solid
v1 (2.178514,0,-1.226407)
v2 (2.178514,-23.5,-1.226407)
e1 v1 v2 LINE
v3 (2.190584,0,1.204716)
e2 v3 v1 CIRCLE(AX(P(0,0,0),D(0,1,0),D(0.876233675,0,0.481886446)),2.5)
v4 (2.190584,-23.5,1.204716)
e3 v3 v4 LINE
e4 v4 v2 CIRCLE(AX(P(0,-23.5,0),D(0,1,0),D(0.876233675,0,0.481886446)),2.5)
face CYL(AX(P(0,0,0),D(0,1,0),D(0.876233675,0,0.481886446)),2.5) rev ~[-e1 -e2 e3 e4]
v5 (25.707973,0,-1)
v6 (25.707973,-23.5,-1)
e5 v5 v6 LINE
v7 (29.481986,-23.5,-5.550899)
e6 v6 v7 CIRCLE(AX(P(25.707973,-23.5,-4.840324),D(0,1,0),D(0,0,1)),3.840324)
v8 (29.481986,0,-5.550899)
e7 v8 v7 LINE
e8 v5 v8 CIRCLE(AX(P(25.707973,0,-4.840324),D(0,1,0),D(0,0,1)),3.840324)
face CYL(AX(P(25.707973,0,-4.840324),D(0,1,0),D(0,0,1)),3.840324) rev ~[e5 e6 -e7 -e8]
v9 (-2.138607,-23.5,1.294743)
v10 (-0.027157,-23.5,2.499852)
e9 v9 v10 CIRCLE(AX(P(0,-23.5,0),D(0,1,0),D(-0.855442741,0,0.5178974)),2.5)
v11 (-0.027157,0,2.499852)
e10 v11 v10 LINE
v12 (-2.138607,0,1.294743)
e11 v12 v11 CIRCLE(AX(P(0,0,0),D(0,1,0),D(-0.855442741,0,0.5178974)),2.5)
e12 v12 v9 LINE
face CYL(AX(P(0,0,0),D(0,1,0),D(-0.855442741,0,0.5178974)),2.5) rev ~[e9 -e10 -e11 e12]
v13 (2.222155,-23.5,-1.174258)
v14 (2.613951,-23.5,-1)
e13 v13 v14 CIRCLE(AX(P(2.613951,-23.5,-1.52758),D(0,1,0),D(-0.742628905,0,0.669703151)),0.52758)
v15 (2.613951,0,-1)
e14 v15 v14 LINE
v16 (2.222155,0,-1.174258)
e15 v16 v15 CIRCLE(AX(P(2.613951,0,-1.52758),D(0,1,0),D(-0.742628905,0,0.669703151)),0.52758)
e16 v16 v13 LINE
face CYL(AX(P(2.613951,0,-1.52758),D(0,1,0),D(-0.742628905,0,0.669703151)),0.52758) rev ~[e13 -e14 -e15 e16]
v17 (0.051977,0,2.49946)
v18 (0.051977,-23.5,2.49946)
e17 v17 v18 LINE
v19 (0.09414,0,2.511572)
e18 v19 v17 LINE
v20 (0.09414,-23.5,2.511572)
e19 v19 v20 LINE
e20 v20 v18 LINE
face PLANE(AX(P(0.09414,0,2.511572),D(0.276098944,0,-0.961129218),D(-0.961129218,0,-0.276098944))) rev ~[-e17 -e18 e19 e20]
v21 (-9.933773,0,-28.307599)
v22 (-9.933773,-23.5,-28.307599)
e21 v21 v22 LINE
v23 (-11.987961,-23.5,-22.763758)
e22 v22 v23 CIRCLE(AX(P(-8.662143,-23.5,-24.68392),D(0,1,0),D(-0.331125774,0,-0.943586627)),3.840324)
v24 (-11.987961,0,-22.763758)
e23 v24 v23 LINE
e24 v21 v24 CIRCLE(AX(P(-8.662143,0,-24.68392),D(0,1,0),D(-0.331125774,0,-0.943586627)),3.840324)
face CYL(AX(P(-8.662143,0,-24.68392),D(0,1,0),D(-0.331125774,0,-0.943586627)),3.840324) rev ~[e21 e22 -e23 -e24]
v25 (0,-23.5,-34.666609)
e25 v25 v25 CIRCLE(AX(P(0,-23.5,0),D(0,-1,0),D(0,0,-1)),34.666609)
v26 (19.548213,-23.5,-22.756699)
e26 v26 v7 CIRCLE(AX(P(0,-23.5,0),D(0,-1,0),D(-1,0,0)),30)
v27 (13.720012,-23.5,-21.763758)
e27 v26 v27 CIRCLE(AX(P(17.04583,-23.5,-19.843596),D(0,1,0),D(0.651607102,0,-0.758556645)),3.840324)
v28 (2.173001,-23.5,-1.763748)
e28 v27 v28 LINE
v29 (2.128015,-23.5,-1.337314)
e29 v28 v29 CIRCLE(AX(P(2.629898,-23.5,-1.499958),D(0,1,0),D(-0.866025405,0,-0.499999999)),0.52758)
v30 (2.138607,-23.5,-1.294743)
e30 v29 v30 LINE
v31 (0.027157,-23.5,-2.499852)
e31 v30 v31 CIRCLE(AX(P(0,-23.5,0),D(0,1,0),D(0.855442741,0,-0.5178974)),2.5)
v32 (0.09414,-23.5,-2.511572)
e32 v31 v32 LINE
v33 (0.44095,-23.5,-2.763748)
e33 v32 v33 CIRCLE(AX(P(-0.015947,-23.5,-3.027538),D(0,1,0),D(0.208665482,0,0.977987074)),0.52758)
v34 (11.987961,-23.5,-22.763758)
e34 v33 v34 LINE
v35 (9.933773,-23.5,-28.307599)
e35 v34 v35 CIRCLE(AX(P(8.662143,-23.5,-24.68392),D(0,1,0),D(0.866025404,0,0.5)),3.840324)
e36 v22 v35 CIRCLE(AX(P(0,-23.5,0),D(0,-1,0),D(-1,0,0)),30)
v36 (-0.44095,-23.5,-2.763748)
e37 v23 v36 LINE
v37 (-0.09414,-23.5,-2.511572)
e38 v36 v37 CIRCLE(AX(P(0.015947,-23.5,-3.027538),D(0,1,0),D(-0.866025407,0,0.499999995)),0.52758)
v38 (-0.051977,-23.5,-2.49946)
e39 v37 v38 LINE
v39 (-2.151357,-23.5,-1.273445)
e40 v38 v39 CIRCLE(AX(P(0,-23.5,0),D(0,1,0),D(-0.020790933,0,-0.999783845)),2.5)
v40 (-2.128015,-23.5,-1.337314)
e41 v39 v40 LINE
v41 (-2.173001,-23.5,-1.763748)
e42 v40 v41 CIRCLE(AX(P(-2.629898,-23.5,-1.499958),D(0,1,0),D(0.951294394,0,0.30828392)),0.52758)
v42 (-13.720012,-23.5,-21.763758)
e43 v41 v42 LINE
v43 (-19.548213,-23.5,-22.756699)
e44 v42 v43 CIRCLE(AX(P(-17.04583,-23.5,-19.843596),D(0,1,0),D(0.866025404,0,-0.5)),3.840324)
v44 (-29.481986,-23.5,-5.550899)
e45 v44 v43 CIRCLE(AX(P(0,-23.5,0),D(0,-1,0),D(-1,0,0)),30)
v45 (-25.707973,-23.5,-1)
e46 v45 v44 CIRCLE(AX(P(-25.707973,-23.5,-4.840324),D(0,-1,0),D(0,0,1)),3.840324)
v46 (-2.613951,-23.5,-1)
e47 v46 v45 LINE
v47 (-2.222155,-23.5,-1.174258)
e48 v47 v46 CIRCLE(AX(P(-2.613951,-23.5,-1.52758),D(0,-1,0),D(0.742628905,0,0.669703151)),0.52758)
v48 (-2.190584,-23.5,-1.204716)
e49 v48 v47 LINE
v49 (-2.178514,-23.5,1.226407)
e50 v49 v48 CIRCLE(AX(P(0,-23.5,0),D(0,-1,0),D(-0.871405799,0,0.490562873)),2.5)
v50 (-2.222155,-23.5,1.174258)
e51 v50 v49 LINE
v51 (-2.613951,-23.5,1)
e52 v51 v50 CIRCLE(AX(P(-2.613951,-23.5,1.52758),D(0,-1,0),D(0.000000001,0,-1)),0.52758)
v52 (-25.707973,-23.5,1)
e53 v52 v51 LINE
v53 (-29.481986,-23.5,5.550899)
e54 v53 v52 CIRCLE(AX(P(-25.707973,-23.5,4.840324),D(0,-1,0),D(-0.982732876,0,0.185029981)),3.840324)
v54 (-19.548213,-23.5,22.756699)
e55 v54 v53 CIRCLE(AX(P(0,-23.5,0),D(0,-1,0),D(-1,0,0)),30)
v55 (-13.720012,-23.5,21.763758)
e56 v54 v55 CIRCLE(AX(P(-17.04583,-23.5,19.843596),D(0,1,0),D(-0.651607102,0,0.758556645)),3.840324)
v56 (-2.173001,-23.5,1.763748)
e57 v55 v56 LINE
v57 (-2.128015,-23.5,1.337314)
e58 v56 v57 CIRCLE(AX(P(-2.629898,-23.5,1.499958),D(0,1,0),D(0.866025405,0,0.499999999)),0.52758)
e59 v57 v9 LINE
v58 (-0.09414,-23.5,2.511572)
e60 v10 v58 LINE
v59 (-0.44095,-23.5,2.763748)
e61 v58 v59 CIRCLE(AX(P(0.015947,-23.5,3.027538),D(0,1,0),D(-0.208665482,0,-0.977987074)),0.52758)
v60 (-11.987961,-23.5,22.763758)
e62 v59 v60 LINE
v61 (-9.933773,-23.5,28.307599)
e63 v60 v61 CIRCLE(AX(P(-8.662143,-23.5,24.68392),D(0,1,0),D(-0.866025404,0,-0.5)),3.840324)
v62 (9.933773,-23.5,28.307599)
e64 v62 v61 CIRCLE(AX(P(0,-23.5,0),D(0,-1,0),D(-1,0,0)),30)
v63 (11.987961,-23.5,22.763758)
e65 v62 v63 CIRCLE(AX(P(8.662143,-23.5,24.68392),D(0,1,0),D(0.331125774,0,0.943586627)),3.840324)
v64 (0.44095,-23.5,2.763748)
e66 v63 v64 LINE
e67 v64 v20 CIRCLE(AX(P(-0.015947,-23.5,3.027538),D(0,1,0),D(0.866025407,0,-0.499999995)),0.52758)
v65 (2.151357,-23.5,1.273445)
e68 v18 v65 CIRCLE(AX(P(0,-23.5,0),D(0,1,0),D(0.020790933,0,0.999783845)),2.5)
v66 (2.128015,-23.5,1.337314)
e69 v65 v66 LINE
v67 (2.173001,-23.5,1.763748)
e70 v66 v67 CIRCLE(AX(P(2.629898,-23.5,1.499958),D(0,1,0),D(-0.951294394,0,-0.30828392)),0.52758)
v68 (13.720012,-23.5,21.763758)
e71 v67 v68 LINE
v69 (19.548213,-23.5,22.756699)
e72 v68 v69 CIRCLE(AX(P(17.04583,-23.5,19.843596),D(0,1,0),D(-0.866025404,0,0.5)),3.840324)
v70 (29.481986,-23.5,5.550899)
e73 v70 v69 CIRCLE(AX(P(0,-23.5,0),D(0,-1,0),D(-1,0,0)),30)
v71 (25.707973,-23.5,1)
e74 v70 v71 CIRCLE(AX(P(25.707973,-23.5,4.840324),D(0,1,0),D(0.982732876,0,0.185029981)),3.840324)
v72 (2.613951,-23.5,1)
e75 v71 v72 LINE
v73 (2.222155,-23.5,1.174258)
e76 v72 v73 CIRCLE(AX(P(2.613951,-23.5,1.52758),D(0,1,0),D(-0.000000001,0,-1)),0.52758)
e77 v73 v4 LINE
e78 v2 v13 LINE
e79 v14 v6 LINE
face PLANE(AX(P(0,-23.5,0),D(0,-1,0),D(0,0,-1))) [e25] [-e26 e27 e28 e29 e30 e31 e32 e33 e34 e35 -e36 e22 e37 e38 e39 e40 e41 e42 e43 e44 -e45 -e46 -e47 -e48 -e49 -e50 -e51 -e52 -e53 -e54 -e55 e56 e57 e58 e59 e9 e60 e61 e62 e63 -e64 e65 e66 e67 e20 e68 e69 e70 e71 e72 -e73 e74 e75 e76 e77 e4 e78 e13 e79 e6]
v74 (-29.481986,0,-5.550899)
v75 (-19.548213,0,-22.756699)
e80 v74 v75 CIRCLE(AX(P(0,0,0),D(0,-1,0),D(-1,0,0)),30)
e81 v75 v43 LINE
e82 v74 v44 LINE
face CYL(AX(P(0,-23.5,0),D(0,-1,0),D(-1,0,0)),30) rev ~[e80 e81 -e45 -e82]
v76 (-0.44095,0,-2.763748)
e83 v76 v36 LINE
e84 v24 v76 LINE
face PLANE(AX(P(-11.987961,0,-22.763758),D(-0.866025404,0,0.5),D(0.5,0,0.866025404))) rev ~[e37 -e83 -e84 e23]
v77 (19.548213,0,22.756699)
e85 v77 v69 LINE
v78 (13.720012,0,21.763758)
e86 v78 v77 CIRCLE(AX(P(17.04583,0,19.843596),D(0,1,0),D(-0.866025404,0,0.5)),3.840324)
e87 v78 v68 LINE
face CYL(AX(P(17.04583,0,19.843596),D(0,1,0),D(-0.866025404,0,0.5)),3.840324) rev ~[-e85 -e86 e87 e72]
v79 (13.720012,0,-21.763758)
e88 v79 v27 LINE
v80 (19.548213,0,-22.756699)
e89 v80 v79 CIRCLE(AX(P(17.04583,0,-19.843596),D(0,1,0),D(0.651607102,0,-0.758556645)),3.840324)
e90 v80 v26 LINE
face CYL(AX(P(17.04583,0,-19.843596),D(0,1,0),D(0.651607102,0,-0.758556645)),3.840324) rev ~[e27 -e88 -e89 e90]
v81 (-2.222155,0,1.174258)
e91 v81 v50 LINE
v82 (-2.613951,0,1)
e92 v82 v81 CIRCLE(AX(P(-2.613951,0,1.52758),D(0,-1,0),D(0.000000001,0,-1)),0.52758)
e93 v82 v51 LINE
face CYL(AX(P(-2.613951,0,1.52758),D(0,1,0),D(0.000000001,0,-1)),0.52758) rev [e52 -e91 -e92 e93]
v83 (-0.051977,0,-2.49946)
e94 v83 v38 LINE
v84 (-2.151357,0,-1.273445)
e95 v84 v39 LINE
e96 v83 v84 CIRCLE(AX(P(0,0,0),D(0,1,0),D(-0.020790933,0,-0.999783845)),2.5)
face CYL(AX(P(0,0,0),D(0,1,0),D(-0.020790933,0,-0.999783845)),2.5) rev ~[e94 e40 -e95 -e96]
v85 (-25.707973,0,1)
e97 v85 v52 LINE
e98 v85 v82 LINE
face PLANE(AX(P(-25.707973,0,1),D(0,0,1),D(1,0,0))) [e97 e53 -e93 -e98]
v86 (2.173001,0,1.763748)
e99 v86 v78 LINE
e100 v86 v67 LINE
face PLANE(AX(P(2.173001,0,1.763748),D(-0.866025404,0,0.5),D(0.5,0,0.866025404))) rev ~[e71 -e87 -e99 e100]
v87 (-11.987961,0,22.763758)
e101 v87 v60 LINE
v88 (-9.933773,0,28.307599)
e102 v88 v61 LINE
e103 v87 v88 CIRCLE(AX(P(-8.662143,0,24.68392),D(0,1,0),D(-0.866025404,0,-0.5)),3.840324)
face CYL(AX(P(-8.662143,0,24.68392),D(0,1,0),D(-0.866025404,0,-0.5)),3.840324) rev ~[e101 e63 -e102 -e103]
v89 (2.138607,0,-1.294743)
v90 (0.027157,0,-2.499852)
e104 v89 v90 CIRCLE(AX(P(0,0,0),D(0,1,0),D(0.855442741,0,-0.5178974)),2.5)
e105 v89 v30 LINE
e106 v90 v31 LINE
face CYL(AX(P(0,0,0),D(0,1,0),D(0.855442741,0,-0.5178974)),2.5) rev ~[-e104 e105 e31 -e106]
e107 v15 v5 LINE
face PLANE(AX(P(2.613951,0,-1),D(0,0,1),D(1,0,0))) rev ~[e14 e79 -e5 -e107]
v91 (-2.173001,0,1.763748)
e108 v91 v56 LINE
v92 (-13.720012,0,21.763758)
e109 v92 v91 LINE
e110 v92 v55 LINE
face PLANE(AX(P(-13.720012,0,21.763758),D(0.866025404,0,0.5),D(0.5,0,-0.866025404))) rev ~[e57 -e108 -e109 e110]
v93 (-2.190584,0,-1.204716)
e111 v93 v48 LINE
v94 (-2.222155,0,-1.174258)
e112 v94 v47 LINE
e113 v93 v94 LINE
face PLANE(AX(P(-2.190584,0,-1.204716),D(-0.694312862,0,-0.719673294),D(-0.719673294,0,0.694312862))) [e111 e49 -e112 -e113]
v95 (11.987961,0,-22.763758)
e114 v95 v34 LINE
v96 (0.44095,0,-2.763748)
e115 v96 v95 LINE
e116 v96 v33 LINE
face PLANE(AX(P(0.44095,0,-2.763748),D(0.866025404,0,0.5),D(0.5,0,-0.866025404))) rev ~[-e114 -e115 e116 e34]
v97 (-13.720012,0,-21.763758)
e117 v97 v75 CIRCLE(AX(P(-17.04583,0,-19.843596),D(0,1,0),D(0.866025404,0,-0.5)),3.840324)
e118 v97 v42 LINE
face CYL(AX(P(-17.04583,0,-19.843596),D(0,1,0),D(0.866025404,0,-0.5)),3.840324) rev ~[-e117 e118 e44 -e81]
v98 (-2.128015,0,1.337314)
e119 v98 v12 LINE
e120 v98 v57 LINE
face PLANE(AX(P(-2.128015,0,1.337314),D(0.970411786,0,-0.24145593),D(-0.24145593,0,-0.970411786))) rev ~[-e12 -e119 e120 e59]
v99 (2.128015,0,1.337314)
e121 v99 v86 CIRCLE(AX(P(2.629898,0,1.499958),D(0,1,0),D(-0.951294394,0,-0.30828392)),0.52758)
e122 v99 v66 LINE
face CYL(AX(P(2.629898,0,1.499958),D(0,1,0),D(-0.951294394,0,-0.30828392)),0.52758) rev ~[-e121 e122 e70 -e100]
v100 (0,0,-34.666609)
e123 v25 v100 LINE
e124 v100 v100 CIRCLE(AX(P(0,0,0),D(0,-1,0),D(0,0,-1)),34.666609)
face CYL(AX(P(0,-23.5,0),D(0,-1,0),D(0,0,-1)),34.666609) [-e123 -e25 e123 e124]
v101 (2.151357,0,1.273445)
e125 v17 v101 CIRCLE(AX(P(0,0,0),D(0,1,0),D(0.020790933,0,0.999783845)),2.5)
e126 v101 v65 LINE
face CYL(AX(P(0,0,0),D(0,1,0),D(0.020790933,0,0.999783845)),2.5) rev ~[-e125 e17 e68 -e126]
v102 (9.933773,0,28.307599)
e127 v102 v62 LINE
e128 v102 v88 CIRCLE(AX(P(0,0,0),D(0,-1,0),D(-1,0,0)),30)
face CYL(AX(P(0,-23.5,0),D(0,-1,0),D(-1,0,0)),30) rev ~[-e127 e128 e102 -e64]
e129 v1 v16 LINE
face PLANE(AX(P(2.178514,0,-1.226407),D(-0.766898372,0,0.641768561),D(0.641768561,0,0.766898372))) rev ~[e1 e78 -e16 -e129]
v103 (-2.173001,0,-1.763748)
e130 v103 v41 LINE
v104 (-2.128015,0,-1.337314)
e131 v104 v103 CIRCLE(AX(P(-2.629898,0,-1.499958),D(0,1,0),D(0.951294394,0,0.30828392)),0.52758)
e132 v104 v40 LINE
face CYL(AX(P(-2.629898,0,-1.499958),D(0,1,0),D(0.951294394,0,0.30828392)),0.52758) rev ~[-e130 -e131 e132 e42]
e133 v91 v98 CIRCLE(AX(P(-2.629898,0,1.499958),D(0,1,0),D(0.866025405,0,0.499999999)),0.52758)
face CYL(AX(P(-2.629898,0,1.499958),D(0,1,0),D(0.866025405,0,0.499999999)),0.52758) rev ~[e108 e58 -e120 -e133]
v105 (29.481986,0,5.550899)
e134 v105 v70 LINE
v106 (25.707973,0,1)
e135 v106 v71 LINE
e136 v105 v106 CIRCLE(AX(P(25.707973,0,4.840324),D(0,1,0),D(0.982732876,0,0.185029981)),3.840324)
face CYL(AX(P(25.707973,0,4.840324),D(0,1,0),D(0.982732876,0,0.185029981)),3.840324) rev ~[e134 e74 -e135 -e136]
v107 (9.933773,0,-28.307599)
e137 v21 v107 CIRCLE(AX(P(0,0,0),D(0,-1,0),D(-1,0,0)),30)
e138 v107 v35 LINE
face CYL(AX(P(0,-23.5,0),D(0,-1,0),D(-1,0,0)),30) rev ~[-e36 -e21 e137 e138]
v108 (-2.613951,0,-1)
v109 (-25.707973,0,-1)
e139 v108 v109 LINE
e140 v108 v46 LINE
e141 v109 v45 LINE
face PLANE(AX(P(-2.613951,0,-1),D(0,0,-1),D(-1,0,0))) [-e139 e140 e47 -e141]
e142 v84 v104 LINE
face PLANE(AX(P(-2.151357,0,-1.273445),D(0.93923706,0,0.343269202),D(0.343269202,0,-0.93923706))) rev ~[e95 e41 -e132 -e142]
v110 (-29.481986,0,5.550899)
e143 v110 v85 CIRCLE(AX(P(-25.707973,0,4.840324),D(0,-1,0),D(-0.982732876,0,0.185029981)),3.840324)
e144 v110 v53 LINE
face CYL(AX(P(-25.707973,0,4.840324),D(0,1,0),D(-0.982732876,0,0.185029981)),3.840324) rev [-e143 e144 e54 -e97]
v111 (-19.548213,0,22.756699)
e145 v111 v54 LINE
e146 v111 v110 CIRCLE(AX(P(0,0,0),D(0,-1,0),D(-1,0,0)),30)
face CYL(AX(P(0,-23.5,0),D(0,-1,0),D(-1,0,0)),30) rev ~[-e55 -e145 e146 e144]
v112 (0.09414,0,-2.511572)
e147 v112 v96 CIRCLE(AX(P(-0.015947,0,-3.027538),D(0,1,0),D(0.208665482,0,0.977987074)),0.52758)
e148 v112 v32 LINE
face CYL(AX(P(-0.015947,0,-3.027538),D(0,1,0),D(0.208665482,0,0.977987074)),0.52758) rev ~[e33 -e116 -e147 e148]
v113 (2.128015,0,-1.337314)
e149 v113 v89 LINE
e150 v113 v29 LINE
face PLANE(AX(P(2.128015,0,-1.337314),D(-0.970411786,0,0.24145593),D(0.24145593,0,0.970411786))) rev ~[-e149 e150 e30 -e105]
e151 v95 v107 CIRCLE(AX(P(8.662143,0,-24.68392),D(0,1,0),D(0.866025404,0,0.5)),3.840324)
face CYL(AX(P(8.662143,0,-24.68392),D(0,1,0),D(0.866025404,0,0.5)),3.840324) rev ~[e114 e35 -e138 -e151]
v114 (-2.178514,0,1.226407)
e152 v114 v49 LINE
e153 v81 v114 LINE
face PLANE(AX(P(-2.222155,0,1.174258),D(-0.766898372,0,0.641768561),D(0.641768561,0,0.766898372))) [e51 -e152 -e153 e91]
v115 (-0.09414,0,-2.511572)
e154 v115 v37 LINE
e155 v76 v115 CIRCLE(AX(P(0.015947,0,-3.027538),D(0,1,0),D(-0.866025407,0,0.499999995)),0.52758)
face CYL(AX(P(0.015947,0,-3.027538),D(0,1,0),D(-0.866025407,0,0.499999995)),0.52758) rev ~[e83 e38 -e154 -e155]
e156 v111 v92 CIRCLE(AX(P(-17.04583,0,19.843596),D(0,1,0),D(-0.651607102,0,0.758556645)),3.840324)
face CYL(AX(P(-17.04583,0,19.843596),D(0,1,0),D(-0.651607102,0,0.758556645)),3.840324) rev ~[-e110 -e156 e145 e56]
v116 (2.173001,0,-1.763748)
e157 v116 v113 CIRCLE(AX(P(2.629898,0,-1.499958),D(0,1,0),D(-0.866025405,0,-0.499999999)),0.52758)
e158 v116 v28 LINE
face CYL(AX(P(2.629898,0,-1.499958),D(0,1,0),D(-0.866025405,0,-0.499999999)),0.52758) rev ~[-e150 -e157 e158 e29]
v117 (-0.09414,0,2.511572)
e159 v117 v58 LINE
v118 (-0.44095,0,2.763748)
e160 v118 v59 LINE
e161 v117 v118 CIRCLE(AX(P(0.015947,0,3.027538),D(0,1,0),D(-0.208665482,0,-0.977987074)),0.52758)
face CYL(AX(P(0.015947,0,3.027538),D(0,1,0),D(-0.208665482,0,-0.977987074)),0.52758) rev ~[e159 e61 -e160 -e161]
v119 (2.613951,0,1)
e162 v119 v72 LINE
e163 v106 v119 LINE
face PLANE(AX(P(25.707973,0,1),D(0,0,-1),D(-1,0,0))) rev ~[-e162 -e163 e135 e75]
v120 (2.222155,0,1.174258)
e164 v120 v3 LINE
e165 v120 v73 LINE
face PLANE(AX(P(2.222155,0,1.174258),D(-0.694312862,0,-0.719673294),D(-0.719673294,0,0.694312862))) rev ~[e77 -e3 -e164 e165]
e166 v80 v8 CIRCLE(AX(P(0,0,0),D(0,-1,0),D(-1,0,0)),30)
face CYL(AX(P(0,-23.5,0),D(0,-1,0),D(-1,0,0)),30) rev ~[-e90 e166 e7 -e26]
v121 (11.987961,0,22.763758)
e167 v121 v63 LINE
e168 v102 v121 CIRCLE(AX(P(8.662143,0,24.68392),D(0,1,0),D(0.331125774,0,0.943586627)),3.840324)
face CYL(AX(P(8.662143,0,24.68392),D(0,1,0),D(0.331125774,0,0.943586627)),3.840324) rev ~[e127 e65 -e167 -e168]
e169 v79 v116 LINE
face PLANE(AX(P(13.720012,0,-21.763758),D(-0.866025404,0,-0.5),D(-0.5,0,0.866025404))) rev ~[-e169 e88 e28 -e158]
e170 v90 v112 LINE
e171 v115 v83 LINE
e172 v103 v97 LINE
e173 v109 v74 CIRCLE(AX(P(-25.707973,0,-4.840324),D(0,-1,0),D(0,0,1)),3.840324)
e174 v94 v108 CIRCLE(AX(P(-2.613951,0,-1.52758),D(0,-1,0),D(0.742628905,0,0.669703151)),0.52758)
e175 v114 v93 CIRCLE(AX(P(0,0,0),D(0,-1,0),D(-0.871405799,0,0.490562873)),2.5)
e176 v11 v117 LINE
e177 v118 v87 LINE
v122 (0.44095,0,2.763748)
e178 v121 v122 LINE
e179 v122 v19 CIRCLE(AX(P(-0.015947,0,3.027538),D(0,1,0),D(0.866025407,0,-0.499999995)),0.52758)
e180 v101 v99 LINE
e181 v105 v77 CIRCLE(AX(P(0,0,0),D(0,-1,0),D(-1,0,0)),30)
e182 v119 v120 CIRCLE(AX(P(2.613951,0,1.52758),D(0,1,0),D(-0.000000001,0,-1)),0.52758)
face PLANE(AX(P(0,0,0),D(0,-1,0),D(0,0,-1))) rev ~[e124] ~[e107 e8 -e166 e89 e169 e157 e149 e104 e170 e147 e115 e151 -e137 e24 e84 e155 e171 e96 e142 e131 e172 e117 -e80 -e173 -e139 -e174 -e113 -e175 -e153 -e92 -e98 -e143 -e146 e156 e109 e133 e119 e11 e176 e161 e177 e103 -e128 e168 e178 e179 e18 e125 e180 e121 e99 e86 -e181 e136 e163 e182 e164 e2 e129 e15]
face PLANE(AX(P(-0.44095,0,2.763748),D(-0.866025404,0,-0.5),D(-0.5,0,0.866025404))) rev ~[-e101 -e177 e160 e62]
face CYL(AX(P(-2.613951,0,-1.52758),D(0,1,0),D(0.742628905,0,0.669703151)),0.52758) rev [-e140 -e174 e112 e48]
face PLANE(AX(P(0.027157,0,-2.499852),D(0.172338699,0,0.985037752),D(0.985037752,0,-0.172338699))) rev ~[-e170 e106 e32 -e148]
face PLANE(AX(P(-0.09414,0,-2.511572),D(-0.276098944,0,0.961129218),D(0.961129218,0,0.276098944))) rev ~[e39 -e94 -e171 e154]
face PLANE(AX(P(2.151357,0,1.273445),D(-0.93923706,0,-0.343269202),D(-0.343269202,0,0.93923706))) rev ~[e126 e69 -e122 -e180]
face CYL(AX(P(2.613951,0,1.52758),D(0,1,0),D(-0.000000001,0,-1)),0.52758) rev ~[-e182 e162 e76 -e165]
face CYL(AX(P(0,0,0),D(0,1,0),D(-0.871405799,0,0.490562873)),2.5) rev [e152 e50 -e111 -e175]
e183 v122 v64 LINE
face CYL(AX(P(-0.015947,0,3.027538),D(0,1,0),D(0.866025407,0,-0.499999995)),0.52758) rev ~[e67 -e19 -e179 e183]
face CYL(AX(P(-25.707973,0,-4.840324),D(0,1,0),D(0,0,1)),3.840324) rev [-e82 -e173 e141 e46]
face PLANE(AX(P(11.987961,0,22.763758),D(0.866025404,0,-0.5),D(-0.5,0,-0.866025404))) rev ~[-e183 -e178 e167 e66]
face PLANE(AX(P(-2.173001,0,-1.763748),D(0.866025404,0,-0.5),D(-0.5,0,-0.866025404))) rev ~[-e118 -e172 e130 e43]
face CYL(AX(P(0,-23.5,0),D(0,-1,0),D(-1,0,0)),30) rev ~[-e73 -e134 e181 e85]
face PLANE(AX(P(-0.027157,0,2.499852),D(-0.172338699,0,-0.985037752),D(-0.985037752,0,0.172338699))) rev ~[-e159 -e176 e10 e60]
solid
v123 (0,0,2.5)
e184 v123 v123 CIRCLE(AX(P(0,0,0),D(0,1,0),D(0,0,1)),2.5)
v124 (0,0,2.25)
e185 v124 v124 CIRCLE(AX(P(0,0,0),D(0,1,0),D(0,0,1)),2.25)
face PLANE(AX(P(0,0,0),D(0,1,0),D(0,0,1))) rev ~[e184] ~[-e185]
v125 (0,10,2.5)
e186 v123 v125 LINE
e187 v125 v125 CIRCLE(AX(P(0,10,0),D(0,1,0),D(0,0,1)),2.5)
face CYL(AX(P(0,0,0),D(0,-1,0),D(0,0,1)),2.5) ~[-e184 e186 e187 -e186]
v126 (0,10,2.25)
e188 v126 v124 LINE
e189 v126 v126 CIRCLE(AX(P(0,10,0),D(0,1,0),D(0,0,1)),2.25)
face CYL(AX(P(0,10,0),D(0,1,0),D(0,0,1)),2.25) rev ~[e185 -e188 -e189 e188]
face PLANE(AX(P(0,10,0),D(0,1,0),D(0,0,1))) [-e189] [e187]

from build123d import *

# Parameters (mm, degrees)
SKETCH1_R             = 2.5
SKETCH1_R_2           = 1.5
BOSS_EXTRUDE1_DEPTH   = 10
BOSS_EXTRUDE3_DEPTH   = 23.5
BOSS_EXTRUDE3_2_DEPTH = 23.5
BOSS_EXTRUDE3_3_DEPTH = 23.5
BOSS_EXTRUDE3_4_DEPTH = 23.5
BOSS_EXTRUDE3_5_DEPTH = 23.5
BOSS_EXTRUDE3_6_DEPTH = 23.5
SKETCH5_R             = 34.666608733
SKETCH5_R_2           = 30
BOSS_EXTRUDE4_DEPTH   = 23.5
BOSS_EXTRUDE5_START   = -28
SKETCH6_R             = 1.5
BOSS_EXTRUDE5_DEPTH   = 28
SKETCH7_R             = 2.25
CUT_EXTRUDE1_DEPTH    = 28


with BuildPart() as part:
    # Sketch1 → Boss-Extrude1 (new body)
    with BuildSketch(Plane(origin=(0, 0, 0), x_dir=(1, 0, 0), z_dir=(0, 1, 0))):
        with Locations(Location((0, 0, 0), (0, 0, 270))):
            Circle(SKETCH1_R)
        with Locations(Location((0, 0, 0), (0, 0, 270))):
            Circle(SKETCH1_R_2, mode=Mode.SUBTRACT)
    extrude(amount=BOSS_EXTRUDE1_DEPTH)

    # Sketch6 → Boss-Extrude5 (add)
    with BuildSketch(Plane(origin=(0, 10, 0), x_dir=(1, 0, 0), z_dir=(0, 1, 0)).offset(BOSS_EXTRUDE5_START)):
        with Locations(Location((0, 0, 0), (0, 0, 270))):
            Circle(SKETCH6_R)
    extrude(amount=BOSS_EXTRUDE5_DEPTH)

    # Sketch7 → Cut-Extrude1 (cut)
    with BuildSketch(Plane(origin=(0, 10, 0), x_dir=(1, 0, 0), z_dir=(0, 1, 0))):
        with Locations(Location((0, 0, 0), (0, 0, 270))):
            Circle(SKETCH7_R)
    extrude(amount=-CUT_EXTRUDE1_DEPTH, mode=Mode.SUBTRACT)


with BuildPart() as body_2:
    # Sketch2 → Boss-Extrude3 (new body)
    with BuildSketch(Plane(origin=(0, 0, 0), x_dir=(-1, 0, 0), z_dir=(0, -1, 0))):
        with BuildLine():
            Line((2.61395079, 1), (25.707973339, 1))
            ThreePointArc((25.707973339, 1), (28.664062792, 2.388870469), (29.481986287, 5.550899437))
            ThreePointArc((29.481986287, 5.550899437), (30, 0), (29.481986287, -5.550899437))
            ThreePointArc((29.481986287, -5.550899437), (28.664062792, -2.388870469), (25.707973339, -1))
            Line((25.707973339, -1), (2.61395079, -1))
            ThreePointArc((2.61395079, -1), (2.399550586, -1.045528996), (2.222154945, -1.174257873))
            Line((2.222154945, -1.174257873), (2.178514499, -1.226407182))
            ThreePointArc((2.178514499, -1.226407182), (2.499969191, -0.012411485), (2.190584188, 1.204716114))
            Line((2.190584188, 1.204716114), (2.222154945, 1.174257873))
            ThreePointArc((2.222154945, 1.174257873), (2.399550586, 1.045528996), (2.61395079, 1))
        make_face()
    extrude(amount=BOSS_EXTRUDE3_DEPTH)



with BuildPart() as body_3:
    # Sketch2 → Boss-Extrude3 2 (new body)
    with BuildSketch(Plane(origin=(0, 0, 0), x_dir=(-1, 0, 0), z_dir=(0, -1, 0))):
        with BuildLine():
            Line((0.440949991, -2.763747789), (11.987961266, -22.763757991))
            ThreePointArc((11.987961266, -22.763757991), (12.263208883, -26.018241788), (9.933773217, -28.307598797))
            ThreePointArc((9.933773217, -28.307598797), (15, -25.980762114), (19.54821307, -22.75669936))
            ThreePointArc((19.54821307, -22.75669936), (16.400853909, -23.629371319), (13.720012073, -21.763757991))
            Line((13.720012073, -21.763757991), (2.173000799, -1.763747789))
            ThreePointArc((2.173000799, -1.763747789), (2.105229964, -1.555307267), (2.128014621, -1.337313697))
            Line((2.128014621, -1.337313697), (2.138606853, -1.294743499))
            ThreePointArc((2.138606853, -1.294743499), (1.239235934, -2.17124257), (0.027157474, -2.49985249))
            Line((0.027157474, -2.49985249), (0.094140324, -2.511571571))
            ThreePointArc((0.094140324, -2.511571571), (0.294320622, -2.600836263), (0.440949991, -2.763747789))
        make_face()
    extrude(amount=BOSS_EXTRUDE3_2_DEPTH)


with BuildPart() as body_4:
    # Sketch2 → Boss-Extrude3 3 (new body)
    with BuildSketch(Plane(origin=(0, 0, 0), x_dir=(-1, 0, 0), z_dir=(0, -1, 0))):
        with BuildLine():
            Line((-2.173000799, -1.763747789), (-13.720012073, -21.763757991))
            ThreePointArc((-13.720012073, -21.763757991), (-16.400853909, -23.629371319), (-19.54821307, -22.75669936))
            ThreePointArc((-19.54821307, -22.75669936), (-15, -25.980762114), (-9.933773217, -28.307598797))
            ThreePointArc((-9.933773217, -28.307598797), (-12.263208883, -26.018241788), (-11.987961266, -22.763757991))
            Line((-11.987961266, -22.763757991), (-0.440949991, -2.763747789))
            ThreePointArc((-0.440949991, -2.763747789), (-0.294320622, -2.600836263), (-0.094140324, -2.511571571))
            Line((-0.094140324, -2.511571571), (-0.051977335, -2.499459613))
            ThreePointArc((-0.051977335, -2.499459613), (-1.260733257, -2.158831086), (-2.151357025, -1.273445308))
            Line((-2.151357025, -1.273445308), (-2.128014621, -1.337313697))
            ThreePointArc((-2.128014621, -1.337313697), (-2.105229964, -1.555307267), (-2.173000799, -1.763747789))
        make_face()
    extrude(amount=BOSS_EXTRUDE3_3_DEPTH)


with BuildPart() as body_5:
    # Sketch2 → Boss-Extrude3 4 (new body)
    with BuildSketch(Plane(origin=(0, 0, 0), x_dir=(-1, 0, 0), z_dir=(0, -1, 0))):
        with BuildLine():
            Line((-2.61395079, 1), (-25.707973339, 1))
            ThreePointArc((-25.707973339, 1), (-28.664062792, 2.388870469), (-29.481986287, 5.550899437))
            ThreePointArc((-29.481986287, 5.550899437), (-30, 0), (-29.481986287, -5.550899437))
            ThreePointArc((-29.481986287, -5.550899437), (-28.664062792, -2.388870469), (-25.707973339, -1))
            Line((-25.707973339, -1), (-2.61395079, -1))
            ThreePointArc((-2.61395079, -1), (-2.399550586, -1.045528996), (-2.222154945, -1.174257873))
            Line((-2.222154945, -1.174257873), (-2.190584188, -1.204716114))
            ThreePointArc((-2.190584188, -1.204716114), (-2.499969191, 0.012411485), (-2.178514499, 1.226407182))
            Line((-2.178514499, 1.226407182), (-2.222154945, 1.174257873))
            ThreePointArc((-2.222154945, 1.174257873), (-2.399550586, 1.045528996), (-2.61395079, 1))
        make_face()
    extrude(amount=BOSS_EXTRUDE3_4_DEPTH)


with BuildPart() as body_6:
    # Sketch2 → Boss-Extrude3 5 (new body)
    with BuildSketch(Plane(origin=(0, 0, 0), x_dir=(-1, 0, 0), z_dir=(0, -1, 0))):
        with BuildLine():
            Line((-0.440949991, 2.763747789), (-11.987961266, 22.763757991))
            ThreePointArc((-11.987961266, 22.763757991), (-12.263208883, 26.018241788), (-9.933773217, 28.307598797))
            ThreePointArc((-9.933773217, 28.307598797), (-15, 25.980762114), (-19.54821307, 22.75669936))
            ThreePointArc((-19.54821307, 22.75669936), (-16.400853909, 23.629371319), (-13.720012073, 21.763757991))
            Line((-13.720012073, 21.763757991), (-2.173000799, 1.763747789))
            ThreePointArc((-2.173000799, 1.763747789), (-2.105229964, 1.555307267), (-2.128014621, 1.337313697))
            Line((-2.128014621, 1.337313697), (-2.138606853, 1.294743499))
            ThreePointArc((-2.138606853, 1.294743499), (-1.239235934, 2.17124257), (-0.027157474, 2.49985249))
            Line((-0.027157474, 2.49985249), (-0.094140324, 2.511571571))
            ThreePointArc((-0.094140324, 2.511571571), (-0.294320622, 2.600836263), (-0.440949991, 2.763747789))
        make_face()
    extrude(amount=BOSS_EXTRUDE3_5_DEPTH)


with BuildPart() as body_7:
    # Sketch2 → Boss-Extrude3 6 (new body)
    with BuildSketch(Plane(origin=(0, 0, 0), x_dir=(-1, 0, 0), z_dir=(0, -1, 0))):
        with BuildLine():
            Line((2.173000799, 1.763747789), (13.720012073, 21.763757991))
            ThreePointArc((13.720012073, 21.763757991), (16.400853909, 23.629371319), (19.54821307, 22.75669936))
            ThreePointArc((19.54821307, 22.75669936), (15, 25.980762114), (9.933773217, 28.307598797))
            ThreePointArc((9.933773217, 28.307598797), (12.263208883, 26.018241788), (11.987961266, 22.763757991))
            Line((11.987961266, 22.763757991), (0.440949991, 2.763747789))
            ThreePointArc((0.440949991, 2.763747789), (0.294320622, 2.600836263), (0.094140324, 2.511571571))
            Line((0.094140324, 2.511571571), (0.051977335, 2.499459613))
            ThreePointArc((0.051977335, 2.499459613), (1.260733257, 2.158831086), (2.151357025, 1.273445308))
            Line((2.151357025, 1.273445308), (2.128014621, 1.337313697))
            ThreePointArc((2.128014621, 1.337313697), (2.105229964, 1.555307267), (2.173000799, 1.763747789))
        make_face()
    extrude(amount=BOSS_EXTRUDE3_6_DEPTH)


with BuildPart() as body_2_1:
    add(body_2.part)

    add(body_3.part)  # Boss-Extrude4 merges body 3

    add(body_4.part)  # Boss-Extrude4 merges body 4

    add(body_5.part)  # Boss-Extrude4 merges body 5

    add(body_6.part)  # Boss-Extrude4 merges body 6

    add(body_7.part)  # Boss-Extrude4 merges body 7
    # Sketch5 → Boss-Extrude4 (add)
    with BuildSketch(Plane(origin=(0, -23.5, 0), x_dir=(-1, 0, 0), z_dir=(0, -1, 0))):
        with Locations(Location((0, 0, 0), (0, 0, 90))):
            Circle(SKETCH5_R)
        Circle(SKETCH5_R_2, mode=Mode.SUBTRACT)
    extrude(amount=-BOSS_EXTRUDE4_DEPTH)


solid = Compound([part.part, body_2_1.part])
